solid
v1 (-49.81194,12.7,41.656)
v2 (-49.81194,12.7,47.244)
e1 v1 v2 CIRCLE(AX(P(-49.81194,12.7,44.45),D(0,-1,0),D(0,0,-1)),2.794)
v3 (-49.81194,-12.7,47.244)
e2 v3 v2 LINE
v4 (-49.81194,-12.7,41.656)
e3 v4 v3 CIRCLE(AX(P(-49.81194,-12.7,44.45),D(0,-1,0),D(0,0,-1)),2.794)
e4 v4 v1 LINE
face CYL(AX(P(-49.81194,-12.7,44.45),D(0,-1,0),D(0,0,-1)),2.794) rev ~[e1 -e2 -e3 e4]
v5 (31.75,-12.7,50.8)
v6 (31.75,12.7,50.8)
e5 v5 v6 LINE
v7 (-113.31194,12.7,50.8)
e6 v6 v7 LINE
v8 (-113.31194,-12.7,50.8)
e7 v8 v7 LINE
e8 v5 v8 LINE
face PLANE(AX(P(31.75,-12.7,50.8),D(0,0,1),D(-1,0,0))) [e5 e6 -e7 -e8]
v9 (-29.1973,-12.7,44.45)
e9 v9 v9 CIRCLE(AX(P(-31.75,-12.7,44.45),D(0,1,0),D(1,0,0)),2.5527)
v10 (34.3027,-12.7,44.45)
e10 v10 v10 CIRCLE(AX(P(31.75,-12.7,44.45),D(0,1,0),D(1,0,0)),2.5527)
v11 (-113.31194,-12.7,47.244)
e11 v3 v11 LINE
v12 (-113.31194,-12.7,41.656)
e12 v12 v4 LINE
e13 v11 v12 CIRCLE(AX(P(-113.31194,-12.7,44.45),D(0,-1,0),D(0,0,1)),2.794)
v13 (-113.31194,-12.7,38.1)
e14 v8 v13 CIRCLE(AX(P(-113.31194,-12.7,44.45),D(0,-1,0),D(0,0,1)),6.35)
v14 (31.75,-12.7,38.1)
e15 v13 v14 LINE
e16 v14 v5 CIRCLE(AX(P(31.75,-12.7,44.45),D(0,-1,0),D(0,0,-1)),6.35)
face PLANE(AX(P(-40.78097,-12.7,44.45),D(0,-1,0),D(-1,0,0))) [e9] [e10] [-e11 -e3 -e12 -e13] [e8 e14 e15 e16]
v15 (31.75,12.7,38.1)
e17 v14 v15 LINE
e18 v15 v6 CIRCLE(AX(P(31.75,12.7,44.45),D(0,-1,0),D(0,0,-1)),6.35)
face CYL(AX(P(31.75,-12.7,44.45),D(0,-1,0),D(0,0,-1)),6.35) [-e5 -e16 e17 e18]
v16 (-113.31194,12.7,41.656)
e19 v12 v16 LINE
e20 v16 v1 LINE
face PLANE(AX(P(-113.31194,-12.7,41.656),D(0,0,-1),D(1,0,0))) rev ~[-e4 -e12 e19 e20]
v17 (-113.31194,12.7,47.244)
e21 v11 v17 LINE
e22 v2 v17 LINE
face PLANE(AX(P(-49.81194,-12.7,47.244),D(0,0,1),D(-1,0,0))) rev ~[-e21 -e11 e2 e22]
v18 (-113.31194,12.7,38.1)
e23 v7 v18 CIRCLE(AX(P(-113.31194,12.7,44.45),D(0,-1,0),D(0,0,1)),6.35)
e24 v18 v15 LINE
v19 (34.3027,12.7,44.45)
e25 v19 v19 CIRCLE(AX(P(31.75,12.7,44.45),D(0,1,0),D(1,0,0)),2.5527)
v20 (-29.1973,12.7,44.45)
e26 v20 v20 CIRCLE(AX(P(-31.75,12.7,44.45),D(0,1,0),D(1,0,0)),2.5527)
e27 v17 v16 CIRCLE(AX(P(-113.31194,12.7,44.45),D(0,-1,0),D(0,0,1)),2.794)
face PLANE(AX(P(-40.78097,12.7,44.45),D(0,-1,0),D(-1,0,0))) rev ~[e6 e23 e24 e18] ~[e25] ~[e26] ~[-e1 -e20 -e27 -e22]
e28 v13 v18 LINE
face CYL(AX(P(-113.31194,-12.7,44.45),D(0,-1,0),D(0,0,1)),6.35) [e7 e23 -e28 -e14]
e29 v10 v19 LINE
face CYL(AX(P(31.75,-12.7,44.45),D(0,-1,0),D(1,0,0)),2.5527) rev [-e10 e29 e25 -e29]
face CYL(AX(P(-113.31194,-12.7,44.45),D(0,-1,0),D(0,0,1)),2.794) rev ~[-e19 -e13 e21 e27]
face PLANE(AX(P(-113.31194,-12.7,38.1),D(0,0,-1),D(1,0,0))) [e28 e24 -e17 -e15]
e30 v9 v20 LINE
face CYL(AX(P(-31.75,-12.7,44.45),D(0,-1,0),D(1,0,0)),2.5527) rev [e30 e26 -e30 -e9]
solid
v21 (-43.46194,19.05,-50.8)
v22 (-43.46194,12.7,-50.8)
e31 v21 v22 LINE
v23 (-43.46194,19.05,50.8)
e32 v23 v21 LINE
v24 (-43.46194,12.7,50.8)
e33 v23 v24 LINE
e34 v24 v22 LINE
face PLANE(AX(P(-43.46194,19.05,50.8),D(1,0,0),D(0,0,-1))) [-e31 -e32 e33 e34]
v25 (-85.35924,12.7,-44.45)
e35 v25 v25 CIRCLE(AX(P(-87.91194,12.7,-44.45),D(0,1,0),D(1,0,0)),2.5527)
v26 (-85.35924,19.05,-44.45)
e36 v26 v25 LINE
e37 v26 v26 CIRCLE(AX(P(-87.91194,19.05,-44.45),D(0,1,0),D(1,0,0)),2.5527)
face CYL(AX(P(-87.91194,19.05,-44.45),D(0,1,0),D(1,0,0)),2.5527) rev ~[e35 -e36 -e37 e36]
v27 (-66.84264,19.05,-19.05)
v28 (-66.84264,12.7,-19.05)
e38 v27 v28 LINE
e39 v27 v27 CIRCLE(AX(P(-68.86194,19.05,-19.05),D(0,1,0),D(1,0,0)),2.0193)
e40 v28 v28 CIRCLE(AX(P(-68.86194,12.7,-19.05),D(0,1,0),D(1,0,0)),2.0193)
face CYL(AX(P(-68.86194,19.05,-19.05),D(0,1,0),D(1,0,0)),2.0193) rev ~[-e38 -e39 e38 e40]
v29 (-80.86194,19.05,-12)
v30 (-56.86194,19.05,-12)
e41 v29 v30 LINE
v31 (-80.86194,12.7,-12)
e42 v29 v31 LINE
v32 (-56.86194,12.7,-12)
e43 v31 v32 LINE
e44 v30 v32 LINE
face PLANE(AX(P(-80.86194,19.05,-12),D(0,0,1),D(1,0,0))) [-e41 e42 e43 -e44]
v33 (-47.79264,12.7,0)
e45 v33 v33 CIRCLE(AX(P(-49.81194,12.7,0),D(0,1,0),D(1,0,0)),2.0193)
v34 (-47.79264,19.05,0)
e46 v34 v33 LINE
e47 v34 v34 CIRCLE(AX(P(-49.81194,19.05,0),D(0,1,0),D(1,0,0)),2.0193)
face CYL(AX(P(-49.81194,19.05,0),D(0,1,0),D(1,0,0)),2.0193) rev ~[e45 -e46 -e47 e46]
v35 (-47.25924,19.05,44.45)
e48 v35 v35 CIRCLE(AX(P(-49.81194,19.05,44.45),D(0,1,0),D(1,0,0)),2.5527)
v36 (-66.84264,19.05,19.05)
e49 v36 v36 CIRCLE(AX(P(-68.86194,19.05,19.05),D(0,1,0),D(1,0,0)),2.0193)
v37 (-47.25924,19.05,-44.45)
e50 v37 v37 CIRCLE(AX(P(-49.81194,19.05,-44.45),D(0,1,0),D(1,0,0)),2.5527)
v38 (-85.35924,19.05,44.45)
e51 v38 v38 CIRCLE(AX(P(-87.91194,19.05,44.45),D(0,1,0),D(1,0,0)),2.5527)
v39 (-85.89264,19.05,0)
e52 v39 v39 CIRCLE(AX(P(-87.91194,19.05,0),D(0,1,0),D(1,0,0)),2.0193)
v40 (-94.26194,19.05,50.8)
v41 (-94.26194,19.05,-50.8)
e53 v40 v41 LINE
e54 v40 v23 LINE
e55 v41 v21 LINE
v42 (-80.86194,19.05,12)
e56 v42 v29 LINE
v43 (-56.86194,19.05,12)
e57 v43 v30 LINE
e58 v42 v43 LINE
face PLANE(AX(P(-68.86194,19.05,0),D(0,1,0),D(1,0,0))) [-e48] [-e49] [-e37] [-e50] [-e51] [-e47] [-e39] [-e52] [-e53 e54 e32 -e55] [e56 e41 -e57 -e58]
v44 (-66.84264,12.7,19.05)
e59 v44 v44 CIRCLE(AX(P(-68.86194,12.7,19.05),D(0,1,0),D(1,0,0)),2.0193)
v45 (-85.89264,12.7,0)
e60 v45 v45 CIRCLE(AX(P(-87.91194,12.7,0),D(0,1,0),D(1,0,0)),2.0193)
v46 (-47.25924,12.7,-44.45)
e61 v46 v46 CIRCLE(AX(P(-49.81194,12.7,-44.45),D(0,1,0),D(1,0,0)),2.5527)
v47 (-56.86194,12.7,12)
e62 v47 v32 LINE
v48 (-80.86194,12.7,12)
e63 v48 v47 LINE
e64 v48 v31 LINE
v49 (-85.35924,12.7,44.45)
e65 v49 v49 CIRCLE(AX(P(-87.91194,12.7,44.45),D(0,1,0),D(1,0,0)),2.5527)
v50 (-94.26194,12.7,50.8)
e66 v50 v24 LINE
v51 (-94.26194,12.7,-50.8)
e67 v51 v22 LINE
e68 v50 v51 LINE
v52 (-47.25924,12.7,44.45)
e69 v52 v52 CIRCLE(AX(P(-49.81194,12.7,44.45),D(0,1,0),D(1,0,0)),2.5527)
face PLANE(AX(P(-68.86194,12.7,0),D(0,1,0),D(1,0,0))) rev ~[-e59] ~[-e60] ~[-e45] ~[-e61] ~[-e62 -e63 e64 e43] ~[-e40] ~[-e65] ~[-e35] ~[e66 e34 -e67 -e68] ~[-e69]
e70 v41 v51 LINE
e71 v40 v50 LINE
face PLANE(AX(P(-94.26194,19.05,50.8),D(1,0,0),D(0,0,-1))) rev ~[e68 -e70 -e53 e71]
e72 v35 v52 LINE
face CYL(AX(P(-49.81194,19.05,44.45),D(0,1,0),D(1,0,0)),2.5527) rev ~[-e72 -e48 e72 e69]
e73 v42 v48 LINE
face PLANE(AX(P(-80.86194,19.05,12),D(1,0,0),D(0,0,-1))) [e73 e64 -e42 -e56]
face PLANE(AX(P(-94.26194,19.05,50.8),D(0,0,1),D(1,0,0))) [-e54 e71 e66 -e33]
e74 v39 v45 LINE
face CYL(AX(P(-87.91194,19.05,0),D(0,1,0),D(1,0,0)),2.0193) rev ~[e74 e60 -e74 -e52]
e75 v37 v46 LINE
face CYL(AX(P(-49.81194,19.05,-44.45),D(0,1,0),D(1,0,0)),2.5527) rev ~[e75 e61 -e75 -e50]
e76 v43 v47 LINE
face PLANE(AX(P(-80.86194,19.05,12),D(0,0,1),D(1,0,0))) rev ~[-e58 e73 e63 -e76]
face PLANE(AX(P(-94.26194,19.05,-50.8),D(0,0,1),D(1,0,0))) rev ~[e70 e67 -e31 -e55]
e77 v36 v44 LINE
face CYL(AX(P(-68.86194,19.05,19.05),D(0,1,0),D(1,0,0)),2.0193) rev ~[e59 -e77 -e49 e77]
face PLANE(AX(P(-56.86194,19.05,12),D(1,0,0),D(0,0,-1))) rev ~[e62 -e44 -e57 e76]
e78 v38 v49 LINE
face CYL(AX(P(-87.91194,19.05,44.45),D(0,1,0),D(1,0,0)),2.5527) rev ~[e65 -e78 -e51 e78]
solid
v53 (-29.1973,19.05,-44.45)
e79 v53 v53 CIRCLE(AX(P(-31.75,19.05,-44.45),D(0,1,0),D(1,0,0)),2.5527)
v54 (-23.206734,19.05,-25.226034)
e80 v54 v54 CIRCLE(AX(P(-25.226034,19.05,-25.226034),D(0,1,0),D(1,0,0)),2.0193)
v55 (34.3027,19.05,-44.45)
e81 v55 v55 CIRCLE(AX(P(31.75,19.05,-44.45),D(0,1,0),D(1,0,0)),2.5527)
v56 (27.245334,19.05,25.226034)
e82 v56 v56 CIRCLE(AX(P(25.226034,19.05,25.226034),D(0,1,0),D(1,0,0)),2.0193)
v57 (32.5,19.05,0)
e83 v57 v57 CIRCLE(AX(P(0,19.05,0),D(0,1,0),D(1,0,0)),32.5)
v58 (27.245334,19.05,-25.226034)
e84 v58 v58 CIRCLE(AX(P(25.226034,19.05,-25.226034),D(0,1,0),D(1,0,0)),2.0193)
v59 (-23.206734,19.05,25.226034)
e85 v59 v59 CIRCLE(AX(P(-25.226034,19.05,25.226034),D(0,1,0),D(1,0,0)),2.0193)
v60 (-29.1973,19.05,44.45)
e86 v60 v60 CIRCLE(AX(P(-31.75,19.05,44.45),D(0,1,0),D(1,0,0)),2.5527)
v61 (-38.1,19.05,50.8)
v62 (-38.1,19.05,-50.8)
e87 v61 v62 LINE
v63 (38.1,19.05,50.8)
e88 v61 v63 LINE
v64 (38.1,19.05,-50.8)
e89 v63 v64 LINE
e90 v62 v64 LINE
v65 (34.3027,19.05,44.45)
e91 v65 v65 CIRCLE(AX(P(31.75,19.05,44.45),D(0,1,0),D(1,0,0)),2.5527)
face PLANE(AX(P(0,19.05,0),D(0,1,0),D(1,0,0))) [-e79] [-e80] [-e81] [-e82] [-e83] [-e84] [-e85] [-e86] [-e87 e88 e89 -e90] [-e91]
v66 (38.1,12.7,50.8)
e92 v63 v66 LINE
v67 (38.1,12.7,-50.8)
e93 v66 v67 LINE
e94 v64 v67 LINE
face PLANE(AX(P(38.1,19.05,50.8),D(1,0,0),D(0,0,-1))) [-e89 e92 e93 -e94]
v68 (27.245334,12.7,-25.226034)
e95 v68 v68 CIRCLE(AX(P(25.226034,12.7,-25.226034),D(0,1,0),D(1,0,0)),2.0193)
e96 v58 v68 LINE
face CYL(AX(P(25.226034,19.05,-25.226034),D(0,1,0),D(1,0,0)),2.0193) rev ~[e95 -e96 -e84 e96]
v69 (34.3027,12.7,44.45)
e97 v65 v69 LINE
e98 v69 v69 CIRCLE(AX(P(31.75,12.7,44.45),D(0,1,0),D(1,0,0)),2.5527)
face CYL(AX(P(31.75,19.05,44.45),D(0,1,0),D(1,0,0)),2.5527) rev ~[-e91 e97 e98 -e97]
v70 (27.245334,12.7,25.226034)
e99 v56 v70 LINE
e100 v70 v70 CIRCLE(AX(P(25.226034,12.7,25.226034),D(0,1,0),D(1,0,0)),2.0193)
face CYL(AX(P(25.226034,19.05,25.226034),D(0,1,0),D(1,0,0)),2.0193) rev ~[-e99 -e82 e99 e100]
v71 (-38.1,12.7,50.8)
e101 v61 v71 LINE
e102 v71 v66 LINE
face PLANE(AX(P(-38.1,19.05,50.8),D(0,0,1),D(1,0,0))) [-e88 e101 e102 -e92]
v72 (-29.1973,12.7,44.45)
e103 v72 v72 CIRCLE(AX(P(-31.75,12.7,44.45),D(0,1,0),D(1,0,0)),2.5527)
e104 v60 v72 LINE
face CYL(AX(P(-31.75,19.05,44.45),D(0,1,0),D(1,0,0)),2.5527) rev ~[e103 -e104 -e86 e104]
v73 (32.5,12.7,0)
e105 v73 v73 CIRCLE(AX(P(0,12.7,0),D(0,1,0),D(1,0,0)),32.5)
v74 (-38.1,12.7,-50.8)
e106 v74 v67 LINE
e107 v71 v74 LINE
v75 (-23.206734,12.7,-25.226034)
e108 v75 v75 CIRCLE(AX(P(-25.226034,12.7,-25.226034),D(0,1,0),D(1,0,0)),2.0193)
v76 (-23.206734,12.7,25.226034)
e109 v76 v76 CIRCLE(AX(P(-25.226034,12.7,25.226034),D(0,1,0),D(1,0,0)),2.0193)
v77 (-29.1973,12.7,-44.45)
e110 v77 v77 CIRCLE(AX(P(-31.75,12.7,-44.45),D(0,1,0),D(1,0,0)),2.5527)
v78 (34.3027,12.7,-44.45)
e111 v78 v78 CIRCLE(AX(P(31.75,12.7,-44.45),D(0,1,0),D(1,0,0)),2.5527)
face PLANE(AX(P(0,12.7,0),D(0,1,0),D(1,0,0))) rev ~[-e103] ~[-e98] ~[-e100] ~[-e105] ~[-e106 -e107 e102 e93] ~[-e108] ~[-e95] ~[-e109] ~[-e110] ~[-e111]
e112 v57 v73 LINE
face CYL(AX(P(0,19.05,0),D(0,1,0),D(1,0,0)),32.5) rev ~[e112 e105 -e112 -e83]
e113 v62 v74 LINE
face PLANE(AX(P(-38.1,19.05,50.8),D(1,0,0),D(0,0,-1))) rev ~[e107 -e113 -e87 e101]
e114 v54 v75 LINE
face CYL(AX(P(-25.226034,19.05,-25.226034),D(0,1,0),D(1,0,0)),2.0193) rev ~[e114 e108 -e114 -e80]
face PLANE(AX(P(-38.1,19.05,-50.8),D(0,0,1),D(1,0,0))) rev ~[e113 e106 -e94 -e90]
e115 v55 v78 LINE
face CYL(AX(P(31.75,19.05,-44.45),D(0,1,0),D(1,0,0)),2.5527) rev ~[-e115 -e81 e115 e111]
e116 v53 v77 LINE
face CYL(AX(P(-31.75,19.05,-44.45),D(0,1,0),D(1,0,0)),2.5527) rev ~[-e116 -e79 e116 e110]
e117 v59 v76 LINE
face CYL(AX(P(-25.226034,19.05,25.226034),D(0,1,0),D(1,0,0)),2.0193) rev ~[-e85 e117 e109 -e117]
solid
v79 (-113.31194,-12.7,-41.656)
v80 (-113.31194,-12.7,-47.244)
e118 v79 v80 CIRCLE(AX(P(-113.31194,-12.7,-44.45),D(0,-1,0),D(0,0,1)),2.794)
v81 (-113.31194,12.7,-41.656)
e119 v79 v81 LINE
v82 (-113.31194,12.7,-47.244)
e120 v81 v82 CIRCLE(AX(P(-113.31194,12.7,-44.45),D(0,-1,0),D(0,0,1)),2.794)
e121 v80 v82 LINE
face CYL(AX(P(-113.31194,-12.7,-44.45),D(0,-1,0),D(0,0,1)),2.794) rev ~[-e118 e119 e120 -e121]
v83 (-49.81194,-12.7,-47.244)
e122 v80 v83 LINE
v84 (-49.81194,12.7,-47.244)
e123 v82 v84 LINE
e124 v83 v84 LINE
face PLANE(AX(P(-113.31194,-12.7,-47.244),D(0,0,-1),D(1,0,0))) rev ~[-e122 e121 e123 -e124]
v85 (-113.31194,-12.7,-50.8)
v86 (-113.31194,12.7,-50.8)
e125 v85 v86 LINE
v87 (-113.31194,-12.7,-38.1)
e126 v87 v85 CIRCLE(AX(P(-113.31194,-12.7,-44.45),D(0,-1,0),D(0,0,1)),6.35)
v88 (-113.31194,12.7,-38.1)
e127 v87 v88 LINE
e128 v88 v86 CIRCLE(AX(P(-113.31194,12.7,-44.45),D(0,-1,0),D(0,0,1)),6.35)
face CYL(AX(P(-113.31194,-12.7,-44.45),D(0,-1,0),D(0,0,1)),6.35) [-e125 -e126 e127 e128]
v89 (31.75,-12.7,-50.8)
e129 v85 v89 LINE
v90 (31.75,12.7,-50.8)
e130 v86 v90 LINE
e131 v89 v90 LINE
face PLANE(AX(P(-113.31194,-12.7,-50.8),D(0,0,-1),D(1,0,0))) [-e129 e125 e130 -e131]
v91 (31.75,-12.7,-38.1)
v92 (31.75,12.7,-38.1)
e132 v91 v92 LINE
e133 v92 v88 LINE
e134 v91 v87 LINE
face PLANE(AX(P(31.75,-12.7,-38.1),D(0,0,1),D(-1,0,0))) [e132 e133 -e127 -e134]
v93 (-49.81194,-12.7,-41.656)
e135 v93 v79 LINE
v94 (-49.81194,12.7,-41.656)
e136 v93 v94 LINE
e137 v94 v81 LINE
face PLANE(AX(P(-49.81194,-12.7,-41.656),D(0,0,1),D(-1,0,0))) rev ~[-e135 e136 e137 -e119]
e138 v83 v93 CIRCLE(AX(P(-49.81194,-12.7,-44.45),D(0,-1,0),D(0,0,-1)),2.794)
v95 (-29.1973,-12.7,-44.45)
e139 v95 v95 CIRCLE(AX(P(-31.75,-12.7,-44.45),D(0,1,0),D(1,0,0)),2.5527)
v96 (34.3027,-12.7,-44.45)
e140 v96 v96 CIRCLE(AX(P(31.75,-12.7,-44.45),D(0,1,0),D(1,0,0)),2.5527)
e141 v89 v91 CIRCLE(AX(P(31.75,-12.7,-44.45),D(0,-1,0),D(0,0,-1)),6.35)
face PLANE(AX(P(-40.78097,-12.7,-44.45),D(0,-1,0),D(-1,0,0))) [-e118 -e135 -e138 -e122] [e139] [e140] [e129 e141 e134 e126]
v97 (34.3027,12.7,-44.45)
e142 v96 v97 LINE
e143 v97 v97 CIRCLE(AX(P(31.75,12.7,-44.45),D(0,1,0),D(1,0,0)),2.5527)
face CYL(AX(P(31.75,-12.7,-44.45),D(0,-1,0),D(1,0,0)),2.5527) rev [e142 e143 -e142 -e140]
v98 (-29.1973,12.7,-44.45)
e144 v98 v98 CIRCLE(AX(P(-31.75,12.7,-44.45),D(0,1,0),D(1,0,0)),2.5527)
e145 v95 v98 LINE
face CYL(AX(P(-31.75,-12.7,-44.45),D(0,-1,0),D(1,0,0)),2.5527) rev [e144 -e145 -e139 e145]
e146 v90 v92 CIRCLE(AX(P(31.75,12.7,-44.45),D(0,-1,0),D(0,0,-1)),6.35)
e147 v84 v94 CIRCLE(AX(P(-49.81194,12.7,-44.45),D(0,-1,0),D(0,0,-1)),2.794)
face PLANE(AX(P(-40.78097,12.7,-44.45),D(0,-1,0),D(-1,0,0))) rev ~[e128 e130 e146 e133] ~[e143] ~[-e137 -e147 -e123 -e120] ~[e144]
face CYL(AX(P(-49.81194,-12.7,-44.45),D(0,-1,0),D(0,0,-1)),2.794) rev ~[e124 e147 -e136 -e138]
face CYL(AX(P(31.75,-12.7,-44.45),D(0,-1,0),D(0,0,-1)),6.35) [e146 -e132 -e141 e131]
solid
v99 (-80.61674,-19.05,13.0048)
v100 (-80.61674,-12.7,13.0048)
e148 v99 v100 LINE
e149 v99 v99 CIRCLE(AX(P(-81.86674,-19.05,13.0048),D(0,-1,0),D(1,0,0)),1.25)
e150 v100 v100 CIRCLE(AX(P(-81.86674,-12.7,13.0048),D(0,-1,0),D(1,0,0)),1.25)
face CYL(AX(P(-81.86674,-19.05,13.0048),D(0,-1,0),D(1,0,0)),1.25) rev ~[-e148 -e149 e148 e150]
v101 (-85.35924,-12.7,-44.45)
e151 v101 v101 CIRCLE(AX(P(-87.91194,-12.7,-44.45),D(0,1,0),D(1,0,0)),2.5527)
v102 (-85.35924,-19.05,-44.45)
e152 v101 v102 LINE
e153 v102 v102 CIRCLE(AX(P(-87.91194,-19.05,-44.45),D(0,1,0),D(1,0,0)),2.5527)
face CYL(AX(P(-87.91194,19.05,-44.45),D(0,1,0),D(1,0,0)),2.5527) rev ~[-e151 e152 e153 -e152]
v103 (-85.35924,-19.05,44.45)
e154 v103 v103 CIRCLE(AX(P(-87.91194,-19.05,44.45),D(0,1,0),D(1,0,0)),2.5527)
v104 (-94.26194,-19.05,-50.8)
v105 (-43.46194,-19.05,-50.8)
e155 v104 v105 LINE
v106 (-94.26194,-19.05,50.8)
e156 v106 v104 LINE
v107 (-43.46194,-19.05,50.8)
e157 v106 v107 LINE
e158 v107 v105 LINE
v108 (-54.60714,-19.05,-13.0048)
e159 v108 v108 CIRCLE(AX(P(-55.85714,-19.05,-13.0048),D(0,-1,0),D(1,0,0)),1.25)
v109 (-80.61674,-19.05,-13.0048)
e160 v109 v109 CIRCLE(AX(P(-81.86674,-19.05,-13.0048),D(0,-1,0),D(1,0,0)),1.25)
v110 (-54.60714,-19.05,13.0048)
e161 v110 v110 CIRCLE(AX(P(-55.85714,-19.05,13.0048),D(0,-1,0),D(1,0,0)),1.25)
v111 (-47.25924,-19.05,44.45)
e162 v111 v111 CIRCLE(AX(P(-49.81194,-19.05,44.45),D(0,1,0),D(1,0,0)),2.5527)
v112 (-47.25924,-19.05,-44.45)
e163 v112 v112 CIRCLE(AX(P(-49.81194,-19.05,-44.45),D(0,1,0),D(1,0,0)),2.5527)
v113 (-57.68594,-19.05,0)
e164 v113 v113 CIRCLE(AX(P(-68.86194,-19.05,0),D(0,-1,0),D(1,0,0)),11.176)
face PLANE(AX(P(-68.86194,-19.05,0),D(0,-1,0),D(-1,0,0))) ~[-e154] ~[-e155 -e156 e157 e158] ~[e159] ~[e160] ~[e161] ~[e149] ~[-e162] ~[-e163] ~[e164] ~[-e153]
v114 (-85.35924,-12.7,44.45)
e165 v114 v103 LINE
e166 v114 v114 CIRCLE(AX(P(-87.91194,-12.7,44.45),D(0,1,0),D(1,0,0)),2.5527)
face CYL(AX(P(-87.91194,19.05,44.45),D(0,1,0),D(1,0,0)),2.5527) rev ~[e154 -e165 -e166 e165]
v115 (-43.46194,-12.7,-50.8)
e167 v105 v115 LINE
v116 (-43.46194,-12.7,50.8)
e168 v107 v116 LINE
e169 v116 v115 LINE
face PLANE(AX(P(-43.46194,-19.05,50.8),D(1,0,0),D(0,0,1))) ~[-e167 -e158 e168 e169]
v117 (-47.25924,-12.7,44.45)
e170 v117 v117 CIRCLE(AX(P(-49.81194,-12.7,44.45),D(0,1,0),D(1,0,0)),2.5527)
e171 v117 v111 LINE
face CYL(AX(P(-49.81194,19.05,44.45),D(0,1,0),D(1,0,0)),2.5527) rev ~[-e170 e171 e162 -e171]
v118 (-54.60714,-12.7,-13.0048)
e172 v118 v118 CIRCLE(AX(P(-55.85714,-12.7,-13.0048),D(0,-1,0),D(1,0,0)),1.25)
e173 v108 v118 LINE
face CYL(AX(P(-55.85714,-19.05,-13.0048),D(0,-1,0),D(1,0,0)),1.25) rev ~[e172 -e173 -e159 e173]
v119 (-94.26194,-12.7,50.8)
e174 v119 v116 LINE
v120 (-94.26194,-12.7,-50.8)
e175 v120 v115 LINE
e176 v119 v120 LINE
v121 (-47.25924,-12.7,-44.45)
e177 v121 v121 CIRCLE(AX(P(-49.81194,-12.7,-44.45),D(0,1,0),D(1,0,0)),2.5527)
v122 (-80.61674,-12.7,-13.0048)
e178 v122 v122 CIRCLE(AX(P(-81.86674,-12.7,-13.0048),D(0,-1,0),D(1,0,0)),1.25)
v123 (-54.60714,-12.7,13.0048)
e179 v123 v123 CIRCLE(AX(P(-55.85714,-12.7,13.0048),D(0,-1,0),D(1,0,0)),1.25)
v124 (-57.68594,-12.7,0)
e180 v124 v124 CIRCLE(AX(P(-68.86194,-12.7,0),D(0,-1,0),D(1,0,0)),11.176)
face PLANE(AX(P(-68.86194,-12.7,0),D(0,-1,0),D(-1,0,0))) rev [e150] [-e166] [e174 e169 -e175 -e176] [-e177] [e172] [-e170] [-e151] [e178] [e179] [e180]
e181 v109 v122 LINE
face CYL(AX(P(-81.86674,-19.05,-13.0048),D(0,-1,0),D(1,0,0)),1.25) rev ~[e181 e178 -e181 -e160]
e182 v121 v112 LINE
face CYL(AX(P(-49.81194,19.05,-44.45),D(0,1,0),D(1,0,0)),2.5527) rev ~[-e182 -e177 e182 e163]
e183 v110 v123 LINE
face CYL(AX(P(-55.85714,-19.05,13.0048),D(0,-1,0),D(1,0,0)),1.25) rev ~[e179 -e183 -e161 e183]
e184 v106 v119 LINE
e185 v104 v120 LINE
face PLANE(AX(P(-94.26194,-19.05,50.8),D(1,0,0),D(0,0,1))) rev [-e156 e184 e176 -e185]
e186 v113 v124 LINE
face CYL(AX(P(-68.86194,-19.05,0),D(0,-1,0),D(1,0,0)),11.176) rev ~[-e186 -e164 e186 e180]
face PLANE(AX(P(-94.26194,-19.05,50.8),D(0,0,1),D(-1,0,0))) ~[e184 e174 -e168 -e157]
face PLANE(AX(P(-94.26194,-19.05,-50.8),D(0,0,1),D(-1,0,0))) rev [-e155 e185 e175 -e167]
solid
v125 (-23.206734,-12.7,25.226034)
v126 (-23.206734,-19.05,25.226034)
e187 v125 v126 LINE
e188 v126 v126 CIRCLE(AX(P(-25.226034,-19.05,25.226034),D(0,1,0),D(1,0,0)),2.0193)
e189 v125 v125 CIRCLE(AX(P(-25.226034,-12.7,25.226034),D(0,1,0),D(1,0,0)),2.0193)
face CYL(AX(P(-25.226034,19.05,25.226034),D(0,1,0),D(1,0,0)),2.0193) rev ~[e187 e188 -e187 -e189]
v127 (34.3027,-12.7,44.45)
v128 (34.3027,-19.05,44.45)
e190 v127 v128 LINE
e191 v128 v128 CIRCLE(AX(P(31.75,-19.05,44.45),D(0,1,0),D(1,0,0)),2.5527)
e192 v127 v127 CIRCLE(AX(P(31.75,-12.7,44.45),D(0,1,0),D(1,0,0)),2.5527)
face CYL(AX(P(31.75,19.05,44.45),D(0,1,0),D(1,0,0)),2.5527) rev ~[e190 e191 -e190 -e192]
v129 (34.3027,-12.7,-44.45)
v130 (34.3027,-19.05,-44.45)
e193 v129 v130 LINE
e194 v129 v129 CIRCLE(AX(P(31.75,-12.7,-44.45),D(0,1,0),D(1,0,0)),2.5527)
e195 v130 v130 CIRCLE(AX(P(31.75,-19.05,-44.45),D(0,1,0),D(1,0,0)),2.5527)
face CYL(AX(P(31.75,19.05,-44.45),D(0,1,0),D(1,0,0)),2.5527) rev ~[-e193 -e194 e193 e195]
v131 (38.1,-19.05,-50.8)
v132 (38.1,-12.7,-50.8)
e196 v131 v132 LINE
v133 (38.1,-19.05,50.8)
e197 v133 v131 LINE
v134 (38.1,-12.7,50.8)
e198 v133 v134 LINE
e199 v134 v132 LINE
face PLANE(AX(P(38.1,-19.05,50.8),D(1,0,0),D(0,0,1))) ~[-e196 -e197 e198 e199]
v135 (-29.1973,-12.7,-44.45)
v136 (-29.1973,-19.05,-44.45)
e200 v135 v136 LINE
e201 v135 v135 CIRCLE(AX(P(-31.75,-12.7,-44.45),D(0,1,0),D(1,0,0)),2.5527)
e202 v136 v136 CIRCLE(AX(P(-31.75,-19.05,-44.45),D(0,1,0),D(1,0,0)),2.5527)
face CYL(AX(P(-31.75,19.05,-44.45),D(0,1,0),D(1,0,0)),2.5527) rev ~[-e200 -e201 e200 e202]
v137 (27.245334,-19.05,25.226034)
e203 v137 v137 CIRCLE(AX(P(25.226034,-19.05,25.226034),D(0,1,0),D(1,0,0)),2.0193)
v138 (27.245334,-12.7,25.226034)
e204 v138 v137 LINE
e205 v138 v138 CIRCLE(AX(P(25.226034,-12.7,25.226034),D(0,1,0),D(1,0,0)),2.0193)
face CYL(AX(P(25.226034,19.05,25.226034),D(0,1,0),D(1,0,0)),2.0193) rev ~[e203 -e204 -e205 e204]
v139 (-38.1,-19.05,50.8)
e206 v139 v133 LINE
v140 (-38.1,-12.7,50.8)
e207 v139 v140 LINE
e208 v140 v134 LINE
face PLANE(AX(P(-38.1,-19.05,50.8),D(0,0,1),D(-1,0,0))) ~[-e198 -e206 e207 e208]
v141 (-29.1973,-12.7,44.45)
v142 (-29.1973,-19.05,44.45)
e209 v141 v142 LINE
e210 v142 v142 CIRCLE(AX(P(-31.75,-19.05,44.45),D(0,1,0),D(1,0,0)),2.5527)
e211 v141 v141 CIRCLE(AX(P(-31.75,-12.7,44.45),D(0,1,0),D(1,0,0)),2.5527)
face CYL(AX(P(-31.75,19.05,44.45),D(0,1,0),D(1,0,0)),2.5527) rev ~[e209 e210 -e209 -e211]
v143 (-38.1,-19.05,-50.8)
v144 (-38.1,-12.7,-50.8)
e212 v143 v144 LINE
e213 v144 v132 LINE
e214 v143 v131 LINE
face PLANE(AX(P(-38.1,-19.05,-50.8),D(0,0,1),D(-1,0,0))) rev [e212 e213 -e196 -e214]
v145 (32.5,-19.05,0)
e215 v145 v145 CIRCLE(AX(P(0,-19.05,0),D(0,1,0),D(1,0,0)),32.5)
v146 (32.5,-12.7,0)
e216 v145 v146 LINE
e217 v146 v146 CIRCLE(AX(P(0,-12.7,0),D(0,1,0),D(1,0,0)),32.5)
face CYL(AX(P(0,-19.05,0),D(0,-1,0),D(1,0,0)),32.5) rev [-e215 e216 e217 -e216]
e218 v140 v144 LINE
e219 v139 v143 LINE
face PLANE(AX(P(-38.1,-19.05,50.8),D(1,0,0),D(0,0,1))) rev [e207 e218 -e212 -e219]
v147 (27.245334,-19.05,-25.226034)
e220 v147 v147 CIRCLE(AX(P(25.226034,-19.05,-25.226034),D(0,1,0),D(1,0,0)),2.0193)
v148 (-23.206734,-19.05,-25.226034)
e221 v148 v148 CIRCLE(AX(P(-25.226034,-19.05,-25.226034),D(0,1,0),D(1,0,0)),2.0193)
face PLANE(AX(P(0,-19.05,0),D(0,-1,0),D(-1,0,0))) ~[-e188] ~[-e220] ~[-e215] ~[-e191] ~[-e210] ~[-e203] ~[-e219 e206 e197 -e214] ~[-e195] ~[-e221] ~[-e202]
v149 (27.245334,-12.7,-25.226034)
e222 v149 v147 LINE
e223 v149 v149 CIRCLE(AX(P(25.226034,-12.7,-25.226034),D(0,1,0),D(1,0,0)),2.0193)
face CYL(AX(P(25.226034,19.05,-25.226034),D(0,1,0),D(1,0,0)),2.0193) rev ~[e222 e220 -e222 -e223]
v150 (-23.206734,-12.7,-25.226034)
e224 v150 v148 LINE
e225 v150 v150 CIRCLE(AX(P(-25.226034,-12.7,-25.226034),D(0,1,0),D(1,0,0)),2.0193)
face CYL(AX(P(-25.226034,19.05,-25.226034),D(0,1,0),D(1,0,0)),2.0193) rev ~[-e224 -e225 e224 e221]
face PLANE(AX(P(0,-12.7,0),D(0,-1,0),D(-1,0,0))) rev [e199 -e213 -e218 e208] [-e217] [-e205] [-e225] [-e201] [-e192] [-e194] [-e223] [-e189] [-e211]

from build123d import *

# Parameters (mm, degrees)
BOSS_EXTRUDE1_START   = 19.05
SKETCH2_W             = 76.2
SKETCH2_H             = 101.6
SKETCH2_R             = 32.5
BOSS_EXTRUDE1_DEPTH   = 6.35
SKETCH2_W_2           = 50.8
BOSS_EXTRUDE1_2_DEPTH = 6.35
SKETCH3_W             = 24
SKETCH3_H             = 24
CUT_EXTRUDE1_DEPTH    = 6.35
SKETCH4_R             = 11.176
CUT_EXTRUDE2_DEPTH    = 6.35
SKETCH5_R             = 1.25
CUT_EXTRUDE3_DEPTH    = 6.35
SKETCH6_R             = 2.5527
SKETCH6_R_2           = 2.0193
CUT_EXTRUDE4_DEPTH    = 39.1
SKETCH7_R             = 2.0193
CUT_EXTRUDE5_DEPTH    = 6.35
SKETCH8_R             = 2.5527
BOSS_EXTRUDE2_DEPTH   = 25.4
BOSS_EXTRUDE2_2_DEPTH = 25.4


with BuildPart() as part:
    # Sketch2 → Boss-Extrude1 (new body)
    with BuildSketch(Plane(origin=(0, 0, 0), x_dir=(1, 0, 0), z_dir=(0, 1, 0)).offset(BOSS_EXTRUDE1_START)):
        Rectangle(SKETCH2_W, SKETCH2_H)
        Circle(SKETCH2_R, mode=Mode.SUBTRACT)
    extrude(amount=-BOSS_EXTRUDE1_DEPTH)


with BuildPart() as body_2:
    # Sketch2 → Boss-Extrude1 2 (new body)
    with BuildSketch(Plane(origin=(0, 0, 0), x_dir=(1, 0, 0), z_dir=(0, 1, 0)).offset(BOSS_EXTRUDE1_START)):
        with Locations((-68.86194, 0)):
            Rectangle(SKETCH2_W_2, SKETCH2_H)
    extrude(amount=-BOSS_EXTRUDE1_2_DEPTH)


with BuildPart() as body_3:
    # Mirror1: mirrored copy
    add(part.part.mirror(Plane.ZX))


with BuildPart() as body_4:
    # Mirror1 2: mirrored copy
    add(body_2.part.mirror(Plane.ZX))

    # Sketch4 → Cut-Extrude2 (cut)
    with BuildSketch(Plane.XZ.offset(19.05)):
        with Locations((-68.86194, 0)):
            Circle(SKETCH4_R)
    extrude(amount=-CUT_EXTRUDE2_DEPTH, mode=Mode.SUBTRACT)

    # Sketch5 → Cut-Extrude3 (cut)
    with BuildSketch(Plane.XZ.offset(19.05)):
        with Locations((-81.86674, 13.0048)):
            Circle(SKETCH5_R)
        with Locations((-55.85714, 13.0048)):
            Circle(SKETCH5_R)
        with Locations((-55.85714, -13.0048)):
            Circle(SKETCH5_R)
        with Locations((-81.86674, -13.0048)):
            Circle(SKETCH5_R)
    extrude(amount=-CUT_EXTRUDE3_DEPTH, mode=Mode.SUBTRACT)


with BuildPart() as body_2_1:
    add(body_2.part)

    # Sketch3 → Cut-Extrude1 (cut)
    with BuildSketch(Plane(origin=(0, 19.05, 0), x_dir=(1, 0, 0), z_dir=(0, 1, 0))):
        with Locations((-68.86194, 0)):
            Rectangle(SKETCH3_W, SKETCH3_H)
    extrude(amount=-CUT_EXTRUDE1_DEPTH, mode=Mode.SUBTRACT)


with BuildPart() as cut_extrude4_tool:
    # Sketch6 → Cut-Extrude4 (new body, through all)
    with BuildSketch(Plane(origin=(0, 19.05, 0), x_dir=(1, 0, 0), z_dir=(0, 1, 0))):
        with Locations((-31.75, 44.45)):
            Circle(SKETCH6_R)
        with Locations((31.75, 44.45)):
            Circle(SKETCH6_R)
        with Locations((31.75, -44.45)):
            Circle(SKETCH6_R)
        with Locations((-31.75, -44.45)):
            Circle(SKETCH6_R)
        with Locations((-25.226034419, 25.226034419)):
            Circle(SKETCH6_R_2)
        with Locations((25.226034419, 25.226034419)):
            Circle(SKETCH6_R_2)
        with Locations((25.226034419, -25.226034419)):
            Circle(SKETCH6_R_2)
        with Locations((-25.226034419, -25.226034419)):
            Circle(SKETCH6_R_2)
        with Locations((-49.81194, -44.45)):
            Circle(SKETCH6_R)
        with Locations((-49.81194, 44.45)):
            Circle(SKETCH6_R)
        with Locations((-87.91194, -44.45)):
            Circle(SKETCH6_R)
        with Locations((-87.91194, 44.45)):
            Circle(SKETCH6_R)
    extrude(amount=-CUT_EXTRUDE4_DEPTH)


with BuildPart() as part_1:
    add(part.part)

    # Cut-Extrude4: cut by cut_extrude4_tool
    add(cut_extrude4_tool.part, mode=Mode.SUBTRACT)


with BuildPart() as body_2_2:
    add(body_2_1.part)

    # Cut-Extrude4: cut by cut_extrude4_tool
    add(cut_extrude4_tool.part, mode=Mode.SUBTRACT)

    # Sketch7 → Cut-Extrude5 (cut)
    with BuildSketch(Plane(origin=(0, 19.05, 0), x_dir=(1, 0, 0), z_dir=(0, 1, 0))):
        with Locations((-68.86194, 19.05)):
            Circle(SKETCH7_R)
        with Locations((-68.86194, -19.05)):
            Circle(SKETCH7_R)
        with Locations((-87.91194, 0)):
            Circle(SKETCH7_R)
        with Locations((-49.81194, 0)):
            Circle(SKETCH7_R)
    extrude(amount=-CUT_EXTRUDE5_DEPTH, mode=Mode.SUBTRACT)


with BuildPart() as body_3_1:
    add(body_3.part)

    # Cut-Extrude4: cut by cut_extrude4_tool
    add(cut_extrude4_tool.part, mode=Mode.SUBTRACT)


with BuildPart() as body_4_1:
    add(body_4.part)

    # Cut-Extrude4: cut by cut_extrude4_tool
    add(cut_extrude4_tool.part, mode=Mode.SUBTRACT)


with BuildPart() as body_5:
    # Sketch8 → Boss-Extrude2 (new body)
    with BuildSketch(Plane(origin=(0, -12.7, 0), x_dir=(1, 0, 0), z_dir=(0, 1, 0))):
        with BuildLine():
            Line((31.75, -50.8), (-113.31194, -50.8))
            ThreePointArc((-113.31194, -50.8), (-119.66194, -44.45), (-113.31194, -38.1))
            Line((-113.31194, -38.1), (31.75, -38.1))
            ThreePointArc((31.75, -38.1), (38.1, -44.45), (31.75, -50.8))
        make_face()
        with Locations((-31.75, -44.45)):
            Circle(SKETCH8_R, mode=Mode.SUBTRACT)
        with Locations((31.75, -44.45)):
            Circle(SKETCH8_R, mode=Mode.SUBTRACT)
        with BuildLine():
            Line((-49.81194, -47.244), (-113.31194, -47.244))
            ThreePointArc((-113.31194, -47.244), (-116.10594, -44.45), (-113.31194, -41.656))
            Line((-113.31194, -41.656), (-49.81194, -41.656))
            ThreePointArc((-49.81194, -41.656), (-47.01794, -44.45), (-49.81194, -47.244))
        make_face(mode=Mode.SUBTRACT)
    extrude(amount=BOSS_EXTRUDE2_DEPTH)


with BuildPart() as body_6:
    # Sketch8 → Boss-Extrude2 2 (new body)
    with BuildSketch(Plane(origin=(0, -12.7, 0), x_dir=(1, 0, 0), z_dir=(0, 1, 0))):
        with BuildLine():
            Line((31.75, 38.1), (-113.31194, 38.1))
            ThreePointArc((-113.31194, 38.1), (-119.66194, 44.45), (-113.31194, 50.8))
            Line((-113.31194, 50.8), (31.75, 50.8))
            ThreePointArc((31.75, 50.8), (38.1, 44.45), (31.75, 38.1))
        make_face()
        with Locations((-31.75, 44.45)):
            Circle(SKETCH8_R, mode=Mode.SUBTRACT)
        with Locations((31.75, 44.45)):
            Circle(SKETCH8_R, mode=Mode.SUBTRACT)
        with BuildLine():
            Line((-49.81194, 41.656), (-113.31194, 41.656))
            ThreePointArc((-113.31194, 41.656), (-116.10594, 44.45), (-113.31194, 47.244))
            Line((-113.31194, 47.244), (-49.81194, 47.244))
            ThreePointArc((-49.81194, 47.244), (-47.01794, 44.45), (-49.81194, 41.656))
        make_face(mode=Mode.SUBTRACT)
    extrude(amount=BOSS_EXTRUDE2_2_DEPTH)


solid = Compound([part_1.part, body_2_2.part, body_3_1.part, body_4_1.part, body_5.part, body_6.part])
